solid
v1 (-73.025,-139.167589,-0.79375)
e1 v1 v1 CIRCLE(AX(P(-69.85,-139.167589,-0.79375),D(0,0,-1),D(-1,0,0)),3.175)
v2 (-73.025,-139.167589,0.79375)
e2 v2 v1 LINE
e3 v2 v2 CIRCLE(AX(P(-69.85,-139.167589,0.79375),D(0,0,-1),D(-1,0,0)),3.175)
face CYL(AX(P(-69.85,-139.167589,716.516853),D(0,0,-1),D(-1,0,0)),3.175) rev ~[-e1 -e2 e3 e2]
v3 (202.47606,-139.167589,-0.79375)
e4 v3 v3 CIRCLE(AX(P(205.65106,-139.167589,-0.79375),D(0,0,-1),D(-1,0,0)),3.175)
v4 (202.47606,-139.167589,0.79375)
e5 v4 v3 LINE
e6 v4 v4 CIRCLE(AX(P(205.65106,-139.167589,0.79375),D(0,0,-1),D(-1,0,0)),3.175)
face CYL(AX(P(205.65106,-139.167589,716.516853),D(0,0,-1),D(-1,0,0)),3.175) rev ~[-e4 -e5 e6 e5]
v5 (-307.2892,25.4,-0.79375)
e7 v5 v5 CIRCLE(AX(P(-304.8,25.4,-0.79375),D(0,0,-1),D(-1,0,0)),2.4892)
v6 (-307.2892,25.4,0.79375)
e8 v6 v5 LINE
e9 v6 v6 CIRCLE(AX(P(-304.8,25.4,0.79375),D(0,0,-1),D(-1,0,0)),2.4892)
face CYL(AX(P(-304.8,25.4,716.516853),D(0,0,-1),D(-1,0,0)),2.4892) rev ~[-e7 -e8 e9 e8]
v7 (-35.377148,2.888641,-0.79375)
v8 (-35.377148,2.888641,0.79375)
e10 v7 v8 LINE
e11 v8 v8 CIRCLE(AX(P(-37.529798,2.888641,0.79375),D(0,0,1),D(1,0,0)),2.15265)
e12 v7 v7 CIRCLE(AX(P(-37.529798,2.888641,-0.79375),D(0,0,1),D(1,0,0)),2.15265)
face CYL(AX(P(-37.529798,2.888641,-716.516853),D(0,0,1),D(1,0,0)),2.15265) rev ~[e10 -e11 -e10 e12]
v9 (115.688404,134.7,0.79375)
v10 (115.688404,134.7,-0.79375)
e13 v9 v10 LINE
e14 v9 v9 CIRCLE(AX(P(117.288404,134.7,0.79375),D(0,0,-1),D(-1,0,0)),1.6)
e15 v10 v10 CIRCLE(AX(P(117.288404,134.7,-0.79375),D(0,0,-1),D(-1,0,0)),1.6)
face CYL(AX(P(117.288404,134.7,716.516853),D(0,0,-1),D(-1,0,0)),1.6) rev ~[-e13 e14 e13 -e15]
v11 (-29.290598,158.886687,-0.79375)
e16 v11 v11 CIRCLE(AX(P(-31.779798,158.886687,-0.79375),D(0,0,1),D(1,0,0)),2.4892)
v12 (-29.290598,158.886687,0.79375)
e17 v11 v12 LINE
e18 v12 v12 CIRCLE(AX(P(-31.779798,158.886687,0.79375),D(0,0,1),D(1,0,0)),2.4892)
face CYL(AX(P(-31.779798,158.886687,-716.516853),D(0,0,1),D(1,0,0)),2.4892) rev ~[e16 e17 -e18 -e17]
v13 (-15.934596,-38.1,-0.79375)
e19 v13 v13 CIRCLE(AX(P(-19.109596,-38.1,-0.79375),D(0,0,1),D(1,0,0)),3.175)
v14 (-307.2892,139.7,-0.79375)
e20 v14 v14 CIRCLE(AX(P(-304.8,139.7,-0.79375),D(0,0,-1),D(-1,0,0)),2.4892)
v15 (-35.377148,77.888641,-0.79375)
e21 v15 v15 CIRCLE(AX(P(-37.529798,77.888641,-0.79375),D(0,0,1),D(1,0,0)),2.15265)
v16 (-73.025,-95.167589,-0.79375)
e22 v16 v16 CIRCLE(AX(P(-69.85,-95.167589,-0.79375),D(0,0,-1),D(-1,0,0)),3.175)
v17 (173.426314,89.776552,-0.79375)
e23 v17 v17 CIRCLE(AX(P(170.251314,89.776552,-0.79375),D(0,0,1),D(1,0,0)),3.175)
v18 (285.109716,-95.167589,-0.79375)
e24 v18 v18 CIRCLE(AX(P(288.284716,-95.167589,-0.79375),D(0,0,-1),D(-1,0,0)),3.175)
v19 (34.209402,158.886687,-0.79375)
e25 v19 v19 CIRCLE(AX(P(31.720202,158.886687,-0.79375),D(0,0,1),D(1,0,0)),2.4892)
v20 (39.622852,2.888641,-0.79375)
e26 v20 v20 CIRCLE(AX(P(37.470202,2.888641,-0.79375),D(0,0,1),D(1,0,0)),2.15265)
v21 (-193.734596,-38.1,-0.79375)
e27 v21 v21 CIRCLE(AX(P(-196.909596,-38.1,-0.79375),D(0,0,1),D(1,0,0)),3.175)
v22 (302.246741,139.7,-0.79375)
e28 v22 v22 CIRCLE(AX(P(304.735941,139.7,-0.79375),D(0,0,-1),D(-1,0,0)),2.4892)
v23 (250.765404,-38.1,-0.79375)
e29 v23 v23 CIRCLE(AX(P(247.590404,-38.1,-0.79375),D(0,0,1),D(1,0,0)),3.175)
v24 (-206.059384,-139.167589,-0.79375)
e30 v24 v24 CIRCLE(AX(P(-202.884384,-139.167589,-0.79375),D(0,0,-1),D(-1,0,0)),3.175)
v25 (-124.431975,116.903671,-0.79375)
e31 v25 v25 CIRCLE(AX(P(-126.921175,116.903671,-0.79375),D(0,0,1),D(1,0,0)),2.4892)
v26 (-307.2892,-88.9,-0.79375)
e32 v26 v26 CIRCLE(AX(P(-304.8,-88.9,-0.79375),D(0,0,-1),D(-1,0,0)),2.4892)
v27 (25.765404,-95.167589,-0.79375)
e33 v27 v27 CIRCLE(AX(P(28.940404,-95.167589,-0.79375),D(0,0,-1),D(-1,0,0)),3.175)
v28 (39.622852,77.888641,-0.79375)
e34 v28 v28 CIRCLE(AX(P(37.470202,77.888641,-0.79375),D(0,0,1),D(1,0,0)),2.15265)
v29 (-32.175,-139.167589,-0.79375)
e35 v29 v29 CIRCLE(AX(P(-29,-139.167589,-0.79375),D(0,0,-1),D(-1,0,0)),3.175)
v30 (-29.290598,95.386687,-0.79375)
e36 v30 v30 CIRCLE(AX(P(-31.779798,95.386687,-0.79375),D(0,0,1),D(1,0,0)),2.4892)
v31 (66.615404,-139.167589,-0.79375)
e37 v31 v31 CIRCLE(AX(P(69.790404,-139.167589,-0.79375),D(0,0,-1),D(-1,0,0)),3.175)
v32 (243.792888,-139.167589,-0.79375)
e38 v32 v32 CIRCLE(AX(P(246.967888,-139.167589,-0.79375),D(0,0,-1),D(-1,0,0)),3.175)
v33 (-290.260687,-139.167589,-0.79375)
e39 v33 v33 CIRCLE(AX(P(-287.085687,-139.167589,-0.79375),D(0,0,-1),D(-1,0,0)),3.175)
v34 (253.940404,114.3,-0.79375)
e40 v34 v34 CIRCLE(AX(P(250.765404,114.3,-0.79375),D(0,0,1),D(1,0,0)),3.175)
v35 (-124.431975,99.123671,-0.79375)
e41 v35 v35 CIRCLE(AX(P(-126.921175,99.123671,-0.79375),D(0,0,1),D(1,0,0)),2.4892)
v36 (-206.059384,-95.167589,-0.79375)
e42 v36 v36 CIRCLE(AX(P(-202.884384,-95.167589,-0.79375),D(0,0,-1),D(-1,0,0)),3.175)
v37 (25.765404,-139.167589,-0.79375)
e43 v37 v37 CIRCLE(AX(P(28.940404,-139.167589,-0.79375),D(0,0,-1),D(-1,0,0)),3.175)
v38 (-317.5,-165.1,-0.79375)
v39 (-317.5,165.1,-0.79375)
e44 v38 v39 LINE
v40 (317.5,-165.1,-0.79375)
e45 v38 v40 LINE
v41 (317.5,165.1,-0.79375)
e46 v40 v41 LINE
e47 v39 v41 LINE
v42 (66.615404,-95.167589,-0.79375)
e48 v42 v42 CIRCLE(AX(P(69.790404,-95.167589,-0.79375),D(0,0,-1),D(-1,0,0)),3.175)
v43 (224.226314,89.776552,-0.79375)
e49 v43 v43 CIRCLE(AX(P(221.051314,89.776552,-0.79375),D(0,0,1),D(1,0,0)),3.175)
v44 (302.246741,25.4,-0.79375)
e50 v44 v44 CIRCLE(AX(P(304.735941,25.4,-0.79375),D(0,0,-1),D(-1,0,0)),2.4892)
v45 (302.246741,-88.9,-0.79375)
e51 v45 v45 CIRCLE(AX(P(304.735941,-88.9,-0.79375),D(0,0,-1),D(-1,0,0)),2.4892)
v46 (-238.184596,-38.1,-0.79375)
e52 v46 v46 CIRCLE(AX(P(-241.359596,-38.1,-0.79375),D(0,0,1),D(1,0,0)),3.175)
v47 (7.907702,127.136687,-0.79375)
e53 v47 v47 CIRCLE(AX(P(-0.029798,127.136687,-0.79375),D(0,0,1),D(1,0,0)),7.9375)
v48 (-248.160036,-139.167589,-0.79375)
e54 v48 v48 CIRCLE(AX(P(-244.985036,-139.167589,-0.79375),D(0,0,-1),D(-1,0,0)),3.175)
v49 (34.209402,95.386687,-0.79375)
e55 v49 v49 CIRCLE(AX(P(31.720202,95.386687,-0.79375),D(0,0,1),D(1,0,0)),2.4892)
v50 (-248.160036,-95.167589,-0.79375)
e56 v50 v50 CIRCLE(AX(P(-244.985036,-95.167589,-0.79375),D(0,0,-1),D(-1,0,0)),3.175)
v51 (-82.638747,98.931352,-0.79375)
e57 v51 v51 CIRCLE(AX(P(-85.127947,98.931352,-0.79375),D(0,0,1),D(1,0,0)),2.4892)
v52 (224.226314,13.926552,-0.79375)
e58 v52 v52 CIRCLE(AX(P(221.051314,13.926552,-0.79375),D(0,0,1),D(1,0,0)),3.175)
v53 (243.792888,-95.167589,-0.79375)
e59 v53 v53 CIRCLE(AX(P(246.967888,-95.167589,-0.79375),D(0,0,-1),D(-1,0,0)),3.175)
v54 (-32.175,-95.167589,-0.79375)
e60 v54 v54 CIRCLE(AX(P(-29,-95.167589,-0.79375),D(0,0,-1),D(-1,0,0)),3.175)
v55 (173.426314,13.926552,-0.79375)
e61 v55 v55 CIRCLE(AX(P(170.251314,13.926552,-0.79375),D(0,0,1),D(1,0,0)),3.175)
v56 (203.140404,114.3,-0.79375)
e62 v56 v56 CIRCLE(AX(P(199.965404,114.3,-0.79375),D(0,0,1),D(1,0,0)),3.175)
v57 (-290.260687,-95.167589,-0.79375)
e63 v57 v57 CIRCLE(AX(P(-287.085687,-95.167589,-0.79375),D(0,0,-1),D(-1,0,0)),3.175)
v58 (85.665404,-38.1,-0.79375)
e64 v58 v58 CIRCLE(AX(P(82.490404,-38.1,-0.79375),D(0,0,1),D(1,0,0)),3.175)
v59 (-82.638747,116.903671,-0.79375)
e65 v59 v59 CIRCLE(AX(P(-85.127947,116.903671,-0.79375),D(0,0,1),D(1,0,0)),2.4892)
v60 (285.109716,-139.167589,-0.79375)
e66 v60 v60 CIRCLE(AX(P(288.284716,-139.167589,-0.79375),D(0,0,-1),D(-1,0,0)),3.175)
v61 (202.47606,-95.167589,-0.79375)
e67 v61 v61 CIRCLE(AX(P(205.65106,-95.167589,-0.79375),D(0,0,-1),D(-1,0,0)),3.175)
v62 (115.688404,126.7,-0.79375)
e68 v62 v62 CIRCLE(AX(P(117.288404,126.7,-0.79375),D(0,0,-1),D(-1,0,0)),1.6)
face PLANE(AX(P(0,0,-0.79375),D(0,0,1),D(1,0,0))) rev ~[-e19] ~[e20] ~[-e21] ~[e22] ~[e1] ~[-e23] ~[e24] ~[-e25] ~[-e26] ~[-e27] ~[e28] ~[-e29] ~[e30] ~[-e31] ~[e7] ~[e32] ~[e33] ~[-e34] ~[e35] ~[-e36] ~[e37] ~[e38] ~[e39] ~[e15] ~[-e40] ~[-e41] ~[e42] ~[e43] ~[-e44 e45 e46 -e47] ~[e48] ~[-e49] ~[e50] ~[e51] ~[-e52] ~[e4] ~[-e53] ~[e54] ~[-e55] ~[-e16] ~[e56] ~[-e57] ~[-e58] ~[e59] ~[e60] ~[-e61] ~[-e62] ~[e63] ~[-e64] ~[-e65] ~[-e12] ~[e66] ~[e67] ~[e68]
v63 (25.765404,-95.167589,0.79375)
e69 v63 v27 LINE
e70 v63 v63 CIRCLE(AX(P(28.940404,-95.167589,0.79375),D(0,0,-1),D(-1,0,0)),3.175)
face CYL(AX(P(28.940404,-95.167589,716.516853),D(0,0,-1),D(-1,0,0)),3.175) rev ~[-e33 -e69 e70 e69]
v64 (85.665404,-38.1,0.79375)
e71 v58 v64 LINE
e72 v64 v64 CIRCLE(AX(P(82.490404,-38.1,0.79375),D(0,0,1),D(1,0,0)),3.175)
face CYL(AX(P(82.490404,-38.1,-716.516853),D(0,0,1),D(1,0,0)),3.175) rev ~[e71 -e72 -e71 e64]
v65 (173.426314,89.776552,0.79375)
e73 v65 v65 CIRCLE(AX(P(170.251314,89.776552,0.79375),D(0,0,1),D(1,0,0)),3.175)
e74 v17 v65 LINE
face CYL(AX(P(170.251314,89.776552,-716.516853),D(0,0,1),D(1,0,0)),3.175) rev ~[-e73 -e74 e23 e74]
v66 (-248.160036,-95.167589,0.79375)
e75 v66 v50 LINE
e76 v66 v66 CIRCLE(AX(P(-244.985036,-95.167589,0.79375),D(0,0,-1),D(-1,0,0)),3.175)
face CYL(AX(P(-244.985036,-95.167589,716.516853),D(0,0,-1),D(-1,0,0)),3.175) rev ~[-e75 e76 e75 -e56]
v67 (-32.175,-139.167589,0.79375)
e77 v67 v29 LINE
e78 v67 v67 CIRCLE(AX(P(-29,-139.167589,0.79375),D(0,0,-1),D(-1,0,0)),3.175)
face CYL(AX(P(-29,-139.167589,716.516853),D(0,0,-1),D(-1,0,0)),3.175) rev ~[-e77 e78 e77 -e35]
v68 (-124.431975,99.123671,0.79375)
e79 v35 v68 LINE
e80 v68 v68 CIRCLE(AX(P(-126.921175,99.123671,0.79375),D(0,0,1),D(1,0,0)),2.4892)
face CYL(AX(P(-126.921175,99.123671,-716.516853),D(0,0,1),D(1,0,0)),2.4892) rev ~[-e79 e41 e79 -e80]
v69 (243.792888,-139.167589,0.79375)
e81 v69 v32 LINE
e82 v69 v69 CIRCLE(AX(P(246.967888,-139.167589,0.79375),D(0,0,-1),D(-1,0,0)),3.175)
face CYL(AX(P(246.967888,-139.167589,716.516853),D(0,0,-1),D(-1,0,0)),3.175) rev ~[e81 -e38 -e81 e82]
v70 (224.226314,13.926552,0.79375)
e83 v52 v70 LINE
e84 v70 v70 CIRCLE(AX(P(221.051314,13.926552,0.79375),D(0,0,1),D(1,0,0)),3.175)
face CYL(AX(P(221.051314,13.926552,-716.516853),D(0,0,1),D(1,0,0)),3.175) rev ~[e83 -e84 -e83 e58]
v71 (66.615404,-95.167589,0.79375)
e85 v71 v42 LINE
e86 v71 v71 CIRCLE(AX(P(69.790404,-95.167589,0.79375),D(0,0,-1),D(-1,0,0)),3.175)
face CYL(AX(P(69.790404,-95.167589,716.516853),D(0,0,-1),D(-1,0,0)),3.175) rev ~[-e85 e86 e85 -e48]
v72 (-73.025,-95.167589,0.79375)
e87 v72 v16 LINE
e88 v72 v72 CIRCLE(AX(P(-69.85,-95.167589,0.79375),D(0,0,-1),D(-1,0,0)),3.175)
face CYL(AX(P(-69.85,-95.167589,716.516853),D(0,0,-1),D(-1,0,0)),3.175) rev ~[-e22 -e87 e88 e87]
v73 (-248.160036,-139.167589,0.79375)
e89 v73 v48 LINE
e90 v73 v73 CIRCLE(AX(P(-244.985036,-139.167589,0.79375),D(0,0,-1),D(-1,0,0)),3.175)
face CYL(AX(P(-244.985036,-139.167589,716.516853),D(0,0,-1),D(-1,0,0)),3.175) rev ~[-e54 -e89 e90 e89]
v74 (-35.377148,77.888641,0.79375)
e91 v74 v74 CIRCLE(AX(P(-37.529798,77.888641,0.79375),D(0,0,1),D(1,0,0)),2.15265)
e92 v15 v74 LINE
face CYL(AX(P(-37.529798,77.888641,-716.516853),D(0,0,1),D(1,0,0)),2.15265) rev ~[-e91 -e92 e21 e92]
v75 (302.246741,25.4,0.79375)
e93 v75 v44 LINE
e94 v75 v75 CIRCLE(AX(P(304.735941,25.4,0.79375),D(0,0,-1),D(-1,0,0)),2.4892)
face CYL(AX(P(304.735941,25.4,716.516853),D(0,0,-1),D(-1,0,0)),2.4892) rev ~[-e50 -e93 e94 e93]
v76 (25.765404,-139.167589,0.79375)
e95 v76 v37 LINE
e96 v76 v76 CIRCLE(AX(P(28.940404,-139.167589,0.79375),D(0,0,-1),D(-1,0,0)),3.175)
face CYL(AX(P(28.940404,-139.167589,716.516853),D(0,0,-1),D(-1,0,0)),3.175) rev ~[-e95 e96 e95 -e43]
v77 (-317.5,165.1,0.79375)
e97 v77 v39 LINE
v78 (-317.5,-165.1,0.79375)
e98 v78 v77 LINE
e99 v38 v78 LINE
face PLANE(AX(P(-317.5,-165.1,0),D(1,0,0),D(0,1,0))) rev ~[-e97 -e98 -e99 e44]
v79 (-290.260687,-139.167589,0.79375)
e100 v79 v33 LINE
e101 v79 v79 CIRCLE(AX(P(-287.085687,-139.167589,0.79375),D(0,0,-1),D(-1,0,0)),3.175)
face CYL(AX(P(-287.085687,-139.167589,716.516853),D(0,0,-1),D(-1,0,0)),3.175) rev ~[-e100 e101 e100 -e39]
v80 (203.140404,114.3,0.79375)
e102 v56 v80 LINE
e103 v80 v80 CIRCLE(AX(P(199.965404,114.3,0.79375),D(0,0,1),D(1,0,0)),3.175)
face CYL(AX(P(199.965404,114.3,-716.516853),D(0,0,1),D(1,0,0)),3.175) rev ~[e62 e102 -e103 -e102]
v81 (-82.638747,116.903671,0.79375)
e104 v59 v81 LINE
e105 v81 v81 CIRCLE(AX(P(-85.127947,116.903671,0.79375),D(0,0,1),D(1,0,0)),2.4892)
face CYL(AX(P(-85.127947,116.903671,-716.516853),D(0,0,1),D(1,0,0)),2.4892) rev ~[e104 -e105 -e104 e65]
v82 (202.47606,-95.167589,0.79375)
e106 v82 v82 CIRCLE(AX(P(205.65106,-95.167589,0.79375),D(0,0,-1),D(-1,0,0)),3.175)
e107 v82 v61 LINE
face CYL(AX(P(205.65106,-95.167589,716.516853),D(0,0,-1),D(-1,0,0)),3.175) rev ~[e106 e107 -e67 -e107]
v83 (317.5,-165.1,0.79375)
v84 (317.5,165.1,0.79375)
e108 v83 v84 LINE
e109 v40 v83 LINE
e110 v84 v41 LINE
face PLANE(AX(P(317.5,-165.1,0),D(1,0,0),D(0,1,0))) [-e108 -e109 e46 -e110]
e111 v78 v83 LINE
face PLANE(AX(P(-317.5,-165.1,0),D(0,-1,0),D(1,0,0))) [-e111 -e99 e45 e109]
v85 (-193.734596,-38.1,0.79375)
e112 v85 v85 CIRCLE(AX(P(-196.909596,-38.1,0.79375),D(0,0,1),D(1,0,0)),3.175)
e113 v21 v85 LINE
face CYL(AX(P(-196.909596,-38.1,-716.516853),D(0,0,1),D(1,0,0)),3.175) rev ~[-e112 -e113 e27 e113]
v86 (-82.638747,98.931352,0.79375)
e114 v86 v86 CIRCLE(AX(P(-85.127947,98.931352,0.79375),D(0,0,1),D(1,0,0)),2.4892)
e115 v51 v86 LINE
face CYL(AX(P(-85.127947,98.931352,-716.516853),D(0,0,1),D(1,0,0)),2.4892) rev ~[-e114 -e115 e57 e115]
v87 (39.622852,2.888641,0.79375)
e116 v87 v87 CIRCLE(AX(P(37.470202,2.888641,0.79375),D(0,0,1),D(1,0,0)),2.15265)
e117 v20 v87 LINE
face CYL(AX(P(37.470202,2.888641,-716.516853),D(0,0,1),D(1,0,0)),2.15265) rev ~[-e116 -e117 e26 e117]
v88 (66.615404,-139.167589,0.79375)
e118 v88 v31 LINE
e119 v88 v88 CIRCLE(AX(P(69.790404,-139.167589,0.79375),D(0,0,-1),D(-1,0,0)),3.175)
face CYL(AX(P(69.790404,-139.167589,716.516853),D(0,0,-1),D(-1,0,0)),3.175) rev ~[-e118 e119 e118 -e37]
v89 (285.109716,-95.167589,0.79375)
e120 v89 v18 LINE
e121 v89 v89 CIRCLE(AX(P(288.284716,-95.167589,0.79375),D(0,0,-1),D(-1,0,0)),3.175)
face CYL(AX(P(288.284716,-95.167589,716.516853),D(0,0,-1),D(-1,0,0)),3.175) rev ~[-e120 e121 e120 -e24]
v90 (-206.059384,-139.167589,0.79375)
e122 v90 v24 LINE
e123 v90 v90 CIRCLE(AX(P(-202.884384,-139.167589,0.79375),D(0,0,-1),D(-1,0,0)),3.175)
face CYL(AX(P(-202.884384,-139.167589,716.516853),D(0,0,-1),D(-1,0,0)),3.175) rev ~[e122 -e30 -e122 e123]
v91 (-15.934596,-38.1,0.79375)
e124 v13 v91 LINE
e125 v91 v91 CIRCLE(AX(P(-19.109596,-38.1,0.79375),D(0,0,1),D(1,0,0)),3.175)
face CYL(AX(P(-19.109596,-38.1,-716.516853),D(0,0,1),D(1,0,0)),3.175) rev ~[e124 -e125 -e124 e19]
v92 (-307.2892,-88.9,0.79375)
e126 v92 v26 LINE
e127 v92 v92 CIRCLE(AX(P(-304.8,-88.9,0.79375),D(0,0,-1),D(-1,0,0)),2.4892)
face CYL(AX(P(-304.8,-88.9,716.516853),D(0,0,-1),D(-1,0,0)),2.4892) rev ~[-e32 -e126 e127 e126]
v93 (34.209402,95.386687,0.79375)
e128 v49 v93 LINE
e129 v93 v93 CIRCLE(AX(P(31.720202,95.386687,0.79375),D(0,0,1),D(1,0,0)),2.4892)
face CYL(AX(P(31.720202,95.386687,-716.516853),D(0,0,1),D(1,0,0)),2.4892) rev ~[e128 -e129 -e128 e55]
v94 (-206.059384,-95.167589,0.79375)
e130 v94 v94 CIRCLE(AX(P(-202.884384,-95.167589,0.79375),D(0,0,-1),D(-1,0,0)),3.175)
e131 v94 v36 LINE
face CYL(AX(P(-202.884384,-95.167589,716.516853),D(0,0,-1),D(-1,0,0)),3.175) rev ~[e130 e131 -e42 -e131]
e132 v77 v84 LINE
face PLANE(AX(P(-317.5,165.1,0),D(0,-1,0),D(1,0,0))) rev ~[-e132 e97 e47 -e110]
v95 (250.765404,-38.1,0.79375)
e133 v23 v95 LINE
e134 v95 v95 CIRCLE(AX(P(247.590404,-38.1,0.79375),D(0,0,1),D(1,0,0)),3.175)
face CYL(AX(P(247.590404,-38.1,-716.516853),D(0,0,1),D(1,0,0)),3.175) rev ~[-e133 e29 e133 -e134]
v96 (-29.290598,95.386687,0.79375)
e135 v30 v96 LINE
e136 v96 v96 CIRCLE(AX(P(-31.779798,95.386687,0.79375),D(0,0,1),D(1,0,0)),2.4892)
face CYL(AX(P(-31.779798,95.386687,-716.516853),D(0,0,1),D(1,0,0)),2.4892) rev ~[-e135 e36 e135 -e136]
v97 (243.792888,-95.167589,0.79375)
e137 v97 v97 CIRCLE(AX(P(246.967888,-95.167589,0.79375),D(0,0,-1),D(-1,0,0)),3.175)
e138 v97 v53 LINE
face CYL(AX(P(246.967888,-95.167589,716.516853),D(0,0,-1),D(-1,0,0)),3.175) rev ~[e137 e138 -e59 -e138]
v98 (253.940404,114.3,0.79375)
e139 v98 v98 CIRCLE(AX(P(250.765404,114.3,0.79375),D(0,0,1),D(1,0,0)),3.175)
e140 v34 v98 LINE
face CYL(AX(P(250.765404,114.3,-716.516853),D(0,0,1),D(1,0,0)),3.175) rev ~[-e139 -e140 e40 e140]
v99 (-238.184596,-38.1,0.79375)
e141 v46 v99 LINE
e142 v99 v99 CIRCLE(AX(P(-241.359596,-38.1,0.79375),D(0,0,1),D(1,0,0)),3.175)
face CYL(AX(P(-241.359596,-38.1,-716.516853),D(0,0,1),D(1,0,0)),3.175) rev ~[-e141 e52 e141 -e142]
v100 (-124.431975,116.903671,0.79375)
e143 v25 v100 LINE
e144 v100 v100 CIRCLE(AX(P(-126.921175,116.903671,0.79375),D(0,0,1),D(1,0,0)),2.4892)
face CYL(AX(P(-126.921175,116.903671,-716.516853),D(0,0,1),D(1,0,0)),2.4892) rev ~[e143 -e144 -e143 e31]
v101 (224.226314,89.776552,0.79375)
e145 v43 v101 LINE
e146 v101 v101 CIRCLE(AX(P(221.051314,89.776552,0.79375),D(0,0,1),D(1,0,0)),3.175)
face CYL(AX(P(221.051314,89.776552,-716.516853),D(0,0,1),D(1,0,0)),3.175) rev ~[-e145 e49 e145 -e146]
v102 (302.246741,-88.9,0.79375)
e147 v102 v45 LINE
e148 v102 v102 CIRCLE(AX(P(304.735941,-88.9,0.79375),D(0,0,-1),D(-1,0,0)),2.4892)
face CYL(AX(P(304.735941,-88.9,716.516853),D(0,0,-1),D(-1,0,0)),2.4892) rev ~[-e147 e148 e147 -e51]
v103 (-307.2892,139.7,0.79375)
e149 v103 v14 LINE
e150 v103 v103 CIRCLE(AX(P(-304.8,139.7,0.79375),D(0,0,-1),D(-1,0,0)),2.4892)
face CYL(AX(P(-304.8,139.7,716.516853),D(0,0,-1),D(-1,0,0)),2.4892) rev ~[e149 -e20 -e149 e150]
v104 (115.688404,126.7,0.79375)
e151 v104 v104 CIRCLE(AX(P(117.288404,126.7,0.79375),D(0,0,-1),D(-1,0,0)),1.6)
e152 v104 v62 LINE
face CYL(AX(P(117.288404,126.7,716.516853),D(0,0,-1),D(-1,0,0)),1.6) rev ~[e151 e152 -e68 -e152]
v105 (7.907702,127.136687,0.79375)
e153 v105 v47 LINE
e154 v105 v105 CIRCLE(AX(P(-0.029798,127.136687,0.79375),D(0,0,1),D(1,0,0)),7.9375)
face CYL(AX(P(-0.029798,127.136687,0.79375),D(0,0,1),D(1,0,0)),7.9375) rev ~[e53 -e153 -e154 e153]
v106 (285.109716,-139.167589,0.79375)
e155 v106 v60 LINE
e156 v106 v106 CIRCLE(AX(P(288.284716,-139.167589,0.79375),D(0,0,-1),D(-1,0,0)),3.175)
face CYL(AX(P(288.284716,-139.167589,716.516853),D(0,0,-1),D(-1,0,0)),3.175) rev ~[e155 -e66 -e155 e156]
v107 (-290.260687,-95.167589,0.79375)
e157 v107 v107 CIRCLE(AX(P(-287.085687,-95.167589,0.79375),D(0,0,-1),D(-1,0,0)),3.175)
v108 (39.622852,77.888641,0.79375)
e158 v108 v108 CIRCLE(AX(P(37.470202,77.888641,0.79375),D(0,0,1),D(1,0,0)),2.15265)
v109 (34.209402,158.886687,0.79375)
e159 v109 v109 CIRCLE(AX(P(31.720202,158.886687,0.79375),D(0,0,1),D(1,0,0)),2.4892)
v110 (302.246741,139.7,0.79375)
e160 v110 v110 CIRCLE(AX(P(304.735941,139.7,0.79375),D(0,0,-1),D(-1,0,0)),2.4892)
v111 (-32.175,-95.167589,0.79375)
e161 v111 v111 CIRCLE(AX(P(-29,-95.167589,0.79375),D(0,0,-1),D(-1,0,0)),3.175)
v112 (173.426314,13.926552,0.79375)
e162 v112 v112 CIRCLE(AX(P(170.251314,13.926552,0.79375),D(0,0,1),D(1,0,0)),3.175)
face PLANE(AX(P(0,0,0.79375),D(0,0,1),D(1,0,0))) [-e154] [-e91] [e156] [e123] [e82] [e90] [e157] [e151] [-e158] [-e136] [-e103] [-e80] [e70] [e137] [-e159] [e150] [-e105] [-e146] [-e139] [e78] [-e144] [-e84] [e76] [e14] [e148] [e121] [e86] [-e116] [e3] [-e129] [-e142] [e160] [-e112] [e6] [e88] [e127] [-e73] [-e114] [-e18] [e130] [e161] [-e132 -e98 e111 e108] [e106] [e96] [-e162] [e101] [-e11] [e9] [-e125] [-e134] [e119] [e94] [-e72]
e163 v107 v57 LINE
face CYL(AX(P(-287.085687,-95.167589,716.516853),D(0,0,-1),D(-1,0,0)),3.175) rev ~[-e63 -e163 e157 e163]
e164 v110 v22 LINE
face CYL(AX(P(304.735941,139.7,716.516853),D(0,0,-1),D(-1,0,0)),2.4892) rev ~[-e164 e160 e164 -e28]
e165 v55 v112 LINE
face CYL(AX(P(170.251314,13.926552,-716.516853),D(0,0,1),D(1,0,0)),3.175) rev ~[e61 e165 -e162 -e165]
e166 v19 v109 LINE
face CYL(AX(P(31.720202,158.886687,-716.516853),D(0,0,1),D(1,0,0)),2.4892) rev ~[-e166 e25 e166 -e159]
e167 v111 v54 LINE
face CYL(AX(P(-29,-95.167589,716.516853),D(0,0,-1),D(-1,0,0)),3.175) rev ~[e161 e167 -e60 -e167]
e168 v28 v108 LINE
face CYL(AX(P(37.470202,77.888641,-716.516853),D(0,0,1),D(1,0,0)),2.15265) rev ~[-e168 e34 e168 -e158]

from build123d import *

# Parameters (mm, degrees)
SKETCH3_W                   = 635
SKETCH3_H                   = 330.2
BOSS_EXTRUDE1_DEPTH         = 0.79375
F_10_CLEARANCE_HOLE1_D      = 4.9784
F_3_2_3_2_DIAMETER_HOLE1_D  = 3.2
F_1_4_0_25_DIAMETER_HOLE1_D = 6.35
F_10_CLEARANCE_HOLE2_D      = 4.9784
SKETCH20_R                  = 7.9375
CUT_EXTRUDE1_DEPTH          = 358.864192336
F_8_CLEARANCE_HOLE1_D       = 4.3053
F_1_4_0_25_DIAMETER_HOLE2_D = 6.35


with BuildPart() as part:
    # Sketch3 → Boss-Extrude1 (new, symmetric)
    with BuildSketch(Plane.XY):
        Rectangle(SKETCH3_W, SKETCH3_H)
    extrude(amount=BOSS_EXTRUDE1_DEPTH, both=True)

    # #10 Clearance Hole1 (through all)
    with Locations(Plane.XY.offset(0.79375)):
        with Locations((-304.8, 139.7), (-304.8, 25.4), (-304.8, -88.9), (304.735940926, 139.7), (304.735940926, 25.4), (304.735940926, -88.9)):
            Hole(F_10_CLEARANCE_HOLE1_D / 2)

    # Ø3.2 (3.2) Diameter Hole1 (through all)
    with Locations(Plane.XY.offset(0.79375)):
        with Locations((117.288403864, 134.7), (117.288403864, 126.7)):
            Hole(F_3_2_3_2_DIAMETER_HOLE1_D / 2)

    # 1/4 (0.25) Diameter Hole1 (through all)
    with Locations(Plane.XY.offset(0.79375)):
        with Locations((-287.085687485, -95.167589121), (-287.085687485, -139.167589121), (-202.884383934, -95.167589121), (-202.884383934, -139.167589121), (-69.85, -95.167589121), (-69.85, -139.167589121), (-29, -139.167589121), (-29, -95.167589121), (28.940403864, -95.167589121), (28.940403864, -139.167589121), (69.790403864, -139.167589121), (69.790403864, -95.167589121), (205.651059519, -95.167589121), (205.651059519, -139.167589121), (288.284715889, -95.167589121), (288.284715889, -139.167589121), (-244.985035709, -95.167589121), (-244.985035709, -139.167589121), (246.967887704, -95.167589121), (246.967887704, -139.167589121)):
            Hole(F_1_4_0_25_DIAMETER_HOLE1_D / 2)

    # #10 Clearance Hole2 (through all)
    with Locations(Plane(origin=(0, 0, -0.79375), x_dir=(-1, 0, 0), z_dir=(0, 0, -1))):
        with Locations((-31.720201932, 158.886686509), (-31.720201932, 95.386686509), (31.779798068, 95.386686509), (31.779798068, 158.886686509), (85.127947172, 98.931351753), (85.127947172, 116.903670564), (126.921175422, 99.123670564), (126.921175422, 116.903670564)):
            Hole(F_10_CLEARANCE_HOLE2_D / 2)

    # Sketch20 → Cut-Extrude1 (cut, through all)
    with BuildSketch(Plane.XY.offset(0.79375)):
        with Locations((-0.029798068, 127.136686509)):
            Circle(SKETCH20_R)
    extrude(amount=-CUT_EXTRUDE1_DEPTH, mode=Mode.SUBTRACT)

    # #8 Clearance Hole1 (through all)
    with Locations(Plane(origin=(0, 0, -0.79375), x_dir=(-1, 0, 0), z_dir=(0, 0, -1))):
        with Locations((37.529798068, 77.888640884), (-37.470201932, 77.888640884), (-37.470201932, 2.888640884), (37.529798068, 2.888640884)):
            Hole(F_8_CLEARANCE_HOLE1_D / 2)

    # 1/4 (0.25) Diameter Hole2 (through all)
    with Locations(Plane(origin=(0, 0, -0.79375), x_dir=(-1, 0, 0), z_dir=(0, 0, -1))):
        with Locations((-221.051314498, 89.77655242), (-170.251314498, 89.77655242), (-221.051314498, 13.92655242), (-170.251314498, 13.92655242), (-250.765403863, 114.3), (-199.965403863, 114.3), (-247.590403863, -38.1), (-82.490403863, -38.1), (19.109596137, -38.1), (196.909596137, -38.1), (241.359596137, -38.1)):
            Hole(F_1_4_0_25_DIAMETER_HOLE2_D / 2)


solid = part.part
